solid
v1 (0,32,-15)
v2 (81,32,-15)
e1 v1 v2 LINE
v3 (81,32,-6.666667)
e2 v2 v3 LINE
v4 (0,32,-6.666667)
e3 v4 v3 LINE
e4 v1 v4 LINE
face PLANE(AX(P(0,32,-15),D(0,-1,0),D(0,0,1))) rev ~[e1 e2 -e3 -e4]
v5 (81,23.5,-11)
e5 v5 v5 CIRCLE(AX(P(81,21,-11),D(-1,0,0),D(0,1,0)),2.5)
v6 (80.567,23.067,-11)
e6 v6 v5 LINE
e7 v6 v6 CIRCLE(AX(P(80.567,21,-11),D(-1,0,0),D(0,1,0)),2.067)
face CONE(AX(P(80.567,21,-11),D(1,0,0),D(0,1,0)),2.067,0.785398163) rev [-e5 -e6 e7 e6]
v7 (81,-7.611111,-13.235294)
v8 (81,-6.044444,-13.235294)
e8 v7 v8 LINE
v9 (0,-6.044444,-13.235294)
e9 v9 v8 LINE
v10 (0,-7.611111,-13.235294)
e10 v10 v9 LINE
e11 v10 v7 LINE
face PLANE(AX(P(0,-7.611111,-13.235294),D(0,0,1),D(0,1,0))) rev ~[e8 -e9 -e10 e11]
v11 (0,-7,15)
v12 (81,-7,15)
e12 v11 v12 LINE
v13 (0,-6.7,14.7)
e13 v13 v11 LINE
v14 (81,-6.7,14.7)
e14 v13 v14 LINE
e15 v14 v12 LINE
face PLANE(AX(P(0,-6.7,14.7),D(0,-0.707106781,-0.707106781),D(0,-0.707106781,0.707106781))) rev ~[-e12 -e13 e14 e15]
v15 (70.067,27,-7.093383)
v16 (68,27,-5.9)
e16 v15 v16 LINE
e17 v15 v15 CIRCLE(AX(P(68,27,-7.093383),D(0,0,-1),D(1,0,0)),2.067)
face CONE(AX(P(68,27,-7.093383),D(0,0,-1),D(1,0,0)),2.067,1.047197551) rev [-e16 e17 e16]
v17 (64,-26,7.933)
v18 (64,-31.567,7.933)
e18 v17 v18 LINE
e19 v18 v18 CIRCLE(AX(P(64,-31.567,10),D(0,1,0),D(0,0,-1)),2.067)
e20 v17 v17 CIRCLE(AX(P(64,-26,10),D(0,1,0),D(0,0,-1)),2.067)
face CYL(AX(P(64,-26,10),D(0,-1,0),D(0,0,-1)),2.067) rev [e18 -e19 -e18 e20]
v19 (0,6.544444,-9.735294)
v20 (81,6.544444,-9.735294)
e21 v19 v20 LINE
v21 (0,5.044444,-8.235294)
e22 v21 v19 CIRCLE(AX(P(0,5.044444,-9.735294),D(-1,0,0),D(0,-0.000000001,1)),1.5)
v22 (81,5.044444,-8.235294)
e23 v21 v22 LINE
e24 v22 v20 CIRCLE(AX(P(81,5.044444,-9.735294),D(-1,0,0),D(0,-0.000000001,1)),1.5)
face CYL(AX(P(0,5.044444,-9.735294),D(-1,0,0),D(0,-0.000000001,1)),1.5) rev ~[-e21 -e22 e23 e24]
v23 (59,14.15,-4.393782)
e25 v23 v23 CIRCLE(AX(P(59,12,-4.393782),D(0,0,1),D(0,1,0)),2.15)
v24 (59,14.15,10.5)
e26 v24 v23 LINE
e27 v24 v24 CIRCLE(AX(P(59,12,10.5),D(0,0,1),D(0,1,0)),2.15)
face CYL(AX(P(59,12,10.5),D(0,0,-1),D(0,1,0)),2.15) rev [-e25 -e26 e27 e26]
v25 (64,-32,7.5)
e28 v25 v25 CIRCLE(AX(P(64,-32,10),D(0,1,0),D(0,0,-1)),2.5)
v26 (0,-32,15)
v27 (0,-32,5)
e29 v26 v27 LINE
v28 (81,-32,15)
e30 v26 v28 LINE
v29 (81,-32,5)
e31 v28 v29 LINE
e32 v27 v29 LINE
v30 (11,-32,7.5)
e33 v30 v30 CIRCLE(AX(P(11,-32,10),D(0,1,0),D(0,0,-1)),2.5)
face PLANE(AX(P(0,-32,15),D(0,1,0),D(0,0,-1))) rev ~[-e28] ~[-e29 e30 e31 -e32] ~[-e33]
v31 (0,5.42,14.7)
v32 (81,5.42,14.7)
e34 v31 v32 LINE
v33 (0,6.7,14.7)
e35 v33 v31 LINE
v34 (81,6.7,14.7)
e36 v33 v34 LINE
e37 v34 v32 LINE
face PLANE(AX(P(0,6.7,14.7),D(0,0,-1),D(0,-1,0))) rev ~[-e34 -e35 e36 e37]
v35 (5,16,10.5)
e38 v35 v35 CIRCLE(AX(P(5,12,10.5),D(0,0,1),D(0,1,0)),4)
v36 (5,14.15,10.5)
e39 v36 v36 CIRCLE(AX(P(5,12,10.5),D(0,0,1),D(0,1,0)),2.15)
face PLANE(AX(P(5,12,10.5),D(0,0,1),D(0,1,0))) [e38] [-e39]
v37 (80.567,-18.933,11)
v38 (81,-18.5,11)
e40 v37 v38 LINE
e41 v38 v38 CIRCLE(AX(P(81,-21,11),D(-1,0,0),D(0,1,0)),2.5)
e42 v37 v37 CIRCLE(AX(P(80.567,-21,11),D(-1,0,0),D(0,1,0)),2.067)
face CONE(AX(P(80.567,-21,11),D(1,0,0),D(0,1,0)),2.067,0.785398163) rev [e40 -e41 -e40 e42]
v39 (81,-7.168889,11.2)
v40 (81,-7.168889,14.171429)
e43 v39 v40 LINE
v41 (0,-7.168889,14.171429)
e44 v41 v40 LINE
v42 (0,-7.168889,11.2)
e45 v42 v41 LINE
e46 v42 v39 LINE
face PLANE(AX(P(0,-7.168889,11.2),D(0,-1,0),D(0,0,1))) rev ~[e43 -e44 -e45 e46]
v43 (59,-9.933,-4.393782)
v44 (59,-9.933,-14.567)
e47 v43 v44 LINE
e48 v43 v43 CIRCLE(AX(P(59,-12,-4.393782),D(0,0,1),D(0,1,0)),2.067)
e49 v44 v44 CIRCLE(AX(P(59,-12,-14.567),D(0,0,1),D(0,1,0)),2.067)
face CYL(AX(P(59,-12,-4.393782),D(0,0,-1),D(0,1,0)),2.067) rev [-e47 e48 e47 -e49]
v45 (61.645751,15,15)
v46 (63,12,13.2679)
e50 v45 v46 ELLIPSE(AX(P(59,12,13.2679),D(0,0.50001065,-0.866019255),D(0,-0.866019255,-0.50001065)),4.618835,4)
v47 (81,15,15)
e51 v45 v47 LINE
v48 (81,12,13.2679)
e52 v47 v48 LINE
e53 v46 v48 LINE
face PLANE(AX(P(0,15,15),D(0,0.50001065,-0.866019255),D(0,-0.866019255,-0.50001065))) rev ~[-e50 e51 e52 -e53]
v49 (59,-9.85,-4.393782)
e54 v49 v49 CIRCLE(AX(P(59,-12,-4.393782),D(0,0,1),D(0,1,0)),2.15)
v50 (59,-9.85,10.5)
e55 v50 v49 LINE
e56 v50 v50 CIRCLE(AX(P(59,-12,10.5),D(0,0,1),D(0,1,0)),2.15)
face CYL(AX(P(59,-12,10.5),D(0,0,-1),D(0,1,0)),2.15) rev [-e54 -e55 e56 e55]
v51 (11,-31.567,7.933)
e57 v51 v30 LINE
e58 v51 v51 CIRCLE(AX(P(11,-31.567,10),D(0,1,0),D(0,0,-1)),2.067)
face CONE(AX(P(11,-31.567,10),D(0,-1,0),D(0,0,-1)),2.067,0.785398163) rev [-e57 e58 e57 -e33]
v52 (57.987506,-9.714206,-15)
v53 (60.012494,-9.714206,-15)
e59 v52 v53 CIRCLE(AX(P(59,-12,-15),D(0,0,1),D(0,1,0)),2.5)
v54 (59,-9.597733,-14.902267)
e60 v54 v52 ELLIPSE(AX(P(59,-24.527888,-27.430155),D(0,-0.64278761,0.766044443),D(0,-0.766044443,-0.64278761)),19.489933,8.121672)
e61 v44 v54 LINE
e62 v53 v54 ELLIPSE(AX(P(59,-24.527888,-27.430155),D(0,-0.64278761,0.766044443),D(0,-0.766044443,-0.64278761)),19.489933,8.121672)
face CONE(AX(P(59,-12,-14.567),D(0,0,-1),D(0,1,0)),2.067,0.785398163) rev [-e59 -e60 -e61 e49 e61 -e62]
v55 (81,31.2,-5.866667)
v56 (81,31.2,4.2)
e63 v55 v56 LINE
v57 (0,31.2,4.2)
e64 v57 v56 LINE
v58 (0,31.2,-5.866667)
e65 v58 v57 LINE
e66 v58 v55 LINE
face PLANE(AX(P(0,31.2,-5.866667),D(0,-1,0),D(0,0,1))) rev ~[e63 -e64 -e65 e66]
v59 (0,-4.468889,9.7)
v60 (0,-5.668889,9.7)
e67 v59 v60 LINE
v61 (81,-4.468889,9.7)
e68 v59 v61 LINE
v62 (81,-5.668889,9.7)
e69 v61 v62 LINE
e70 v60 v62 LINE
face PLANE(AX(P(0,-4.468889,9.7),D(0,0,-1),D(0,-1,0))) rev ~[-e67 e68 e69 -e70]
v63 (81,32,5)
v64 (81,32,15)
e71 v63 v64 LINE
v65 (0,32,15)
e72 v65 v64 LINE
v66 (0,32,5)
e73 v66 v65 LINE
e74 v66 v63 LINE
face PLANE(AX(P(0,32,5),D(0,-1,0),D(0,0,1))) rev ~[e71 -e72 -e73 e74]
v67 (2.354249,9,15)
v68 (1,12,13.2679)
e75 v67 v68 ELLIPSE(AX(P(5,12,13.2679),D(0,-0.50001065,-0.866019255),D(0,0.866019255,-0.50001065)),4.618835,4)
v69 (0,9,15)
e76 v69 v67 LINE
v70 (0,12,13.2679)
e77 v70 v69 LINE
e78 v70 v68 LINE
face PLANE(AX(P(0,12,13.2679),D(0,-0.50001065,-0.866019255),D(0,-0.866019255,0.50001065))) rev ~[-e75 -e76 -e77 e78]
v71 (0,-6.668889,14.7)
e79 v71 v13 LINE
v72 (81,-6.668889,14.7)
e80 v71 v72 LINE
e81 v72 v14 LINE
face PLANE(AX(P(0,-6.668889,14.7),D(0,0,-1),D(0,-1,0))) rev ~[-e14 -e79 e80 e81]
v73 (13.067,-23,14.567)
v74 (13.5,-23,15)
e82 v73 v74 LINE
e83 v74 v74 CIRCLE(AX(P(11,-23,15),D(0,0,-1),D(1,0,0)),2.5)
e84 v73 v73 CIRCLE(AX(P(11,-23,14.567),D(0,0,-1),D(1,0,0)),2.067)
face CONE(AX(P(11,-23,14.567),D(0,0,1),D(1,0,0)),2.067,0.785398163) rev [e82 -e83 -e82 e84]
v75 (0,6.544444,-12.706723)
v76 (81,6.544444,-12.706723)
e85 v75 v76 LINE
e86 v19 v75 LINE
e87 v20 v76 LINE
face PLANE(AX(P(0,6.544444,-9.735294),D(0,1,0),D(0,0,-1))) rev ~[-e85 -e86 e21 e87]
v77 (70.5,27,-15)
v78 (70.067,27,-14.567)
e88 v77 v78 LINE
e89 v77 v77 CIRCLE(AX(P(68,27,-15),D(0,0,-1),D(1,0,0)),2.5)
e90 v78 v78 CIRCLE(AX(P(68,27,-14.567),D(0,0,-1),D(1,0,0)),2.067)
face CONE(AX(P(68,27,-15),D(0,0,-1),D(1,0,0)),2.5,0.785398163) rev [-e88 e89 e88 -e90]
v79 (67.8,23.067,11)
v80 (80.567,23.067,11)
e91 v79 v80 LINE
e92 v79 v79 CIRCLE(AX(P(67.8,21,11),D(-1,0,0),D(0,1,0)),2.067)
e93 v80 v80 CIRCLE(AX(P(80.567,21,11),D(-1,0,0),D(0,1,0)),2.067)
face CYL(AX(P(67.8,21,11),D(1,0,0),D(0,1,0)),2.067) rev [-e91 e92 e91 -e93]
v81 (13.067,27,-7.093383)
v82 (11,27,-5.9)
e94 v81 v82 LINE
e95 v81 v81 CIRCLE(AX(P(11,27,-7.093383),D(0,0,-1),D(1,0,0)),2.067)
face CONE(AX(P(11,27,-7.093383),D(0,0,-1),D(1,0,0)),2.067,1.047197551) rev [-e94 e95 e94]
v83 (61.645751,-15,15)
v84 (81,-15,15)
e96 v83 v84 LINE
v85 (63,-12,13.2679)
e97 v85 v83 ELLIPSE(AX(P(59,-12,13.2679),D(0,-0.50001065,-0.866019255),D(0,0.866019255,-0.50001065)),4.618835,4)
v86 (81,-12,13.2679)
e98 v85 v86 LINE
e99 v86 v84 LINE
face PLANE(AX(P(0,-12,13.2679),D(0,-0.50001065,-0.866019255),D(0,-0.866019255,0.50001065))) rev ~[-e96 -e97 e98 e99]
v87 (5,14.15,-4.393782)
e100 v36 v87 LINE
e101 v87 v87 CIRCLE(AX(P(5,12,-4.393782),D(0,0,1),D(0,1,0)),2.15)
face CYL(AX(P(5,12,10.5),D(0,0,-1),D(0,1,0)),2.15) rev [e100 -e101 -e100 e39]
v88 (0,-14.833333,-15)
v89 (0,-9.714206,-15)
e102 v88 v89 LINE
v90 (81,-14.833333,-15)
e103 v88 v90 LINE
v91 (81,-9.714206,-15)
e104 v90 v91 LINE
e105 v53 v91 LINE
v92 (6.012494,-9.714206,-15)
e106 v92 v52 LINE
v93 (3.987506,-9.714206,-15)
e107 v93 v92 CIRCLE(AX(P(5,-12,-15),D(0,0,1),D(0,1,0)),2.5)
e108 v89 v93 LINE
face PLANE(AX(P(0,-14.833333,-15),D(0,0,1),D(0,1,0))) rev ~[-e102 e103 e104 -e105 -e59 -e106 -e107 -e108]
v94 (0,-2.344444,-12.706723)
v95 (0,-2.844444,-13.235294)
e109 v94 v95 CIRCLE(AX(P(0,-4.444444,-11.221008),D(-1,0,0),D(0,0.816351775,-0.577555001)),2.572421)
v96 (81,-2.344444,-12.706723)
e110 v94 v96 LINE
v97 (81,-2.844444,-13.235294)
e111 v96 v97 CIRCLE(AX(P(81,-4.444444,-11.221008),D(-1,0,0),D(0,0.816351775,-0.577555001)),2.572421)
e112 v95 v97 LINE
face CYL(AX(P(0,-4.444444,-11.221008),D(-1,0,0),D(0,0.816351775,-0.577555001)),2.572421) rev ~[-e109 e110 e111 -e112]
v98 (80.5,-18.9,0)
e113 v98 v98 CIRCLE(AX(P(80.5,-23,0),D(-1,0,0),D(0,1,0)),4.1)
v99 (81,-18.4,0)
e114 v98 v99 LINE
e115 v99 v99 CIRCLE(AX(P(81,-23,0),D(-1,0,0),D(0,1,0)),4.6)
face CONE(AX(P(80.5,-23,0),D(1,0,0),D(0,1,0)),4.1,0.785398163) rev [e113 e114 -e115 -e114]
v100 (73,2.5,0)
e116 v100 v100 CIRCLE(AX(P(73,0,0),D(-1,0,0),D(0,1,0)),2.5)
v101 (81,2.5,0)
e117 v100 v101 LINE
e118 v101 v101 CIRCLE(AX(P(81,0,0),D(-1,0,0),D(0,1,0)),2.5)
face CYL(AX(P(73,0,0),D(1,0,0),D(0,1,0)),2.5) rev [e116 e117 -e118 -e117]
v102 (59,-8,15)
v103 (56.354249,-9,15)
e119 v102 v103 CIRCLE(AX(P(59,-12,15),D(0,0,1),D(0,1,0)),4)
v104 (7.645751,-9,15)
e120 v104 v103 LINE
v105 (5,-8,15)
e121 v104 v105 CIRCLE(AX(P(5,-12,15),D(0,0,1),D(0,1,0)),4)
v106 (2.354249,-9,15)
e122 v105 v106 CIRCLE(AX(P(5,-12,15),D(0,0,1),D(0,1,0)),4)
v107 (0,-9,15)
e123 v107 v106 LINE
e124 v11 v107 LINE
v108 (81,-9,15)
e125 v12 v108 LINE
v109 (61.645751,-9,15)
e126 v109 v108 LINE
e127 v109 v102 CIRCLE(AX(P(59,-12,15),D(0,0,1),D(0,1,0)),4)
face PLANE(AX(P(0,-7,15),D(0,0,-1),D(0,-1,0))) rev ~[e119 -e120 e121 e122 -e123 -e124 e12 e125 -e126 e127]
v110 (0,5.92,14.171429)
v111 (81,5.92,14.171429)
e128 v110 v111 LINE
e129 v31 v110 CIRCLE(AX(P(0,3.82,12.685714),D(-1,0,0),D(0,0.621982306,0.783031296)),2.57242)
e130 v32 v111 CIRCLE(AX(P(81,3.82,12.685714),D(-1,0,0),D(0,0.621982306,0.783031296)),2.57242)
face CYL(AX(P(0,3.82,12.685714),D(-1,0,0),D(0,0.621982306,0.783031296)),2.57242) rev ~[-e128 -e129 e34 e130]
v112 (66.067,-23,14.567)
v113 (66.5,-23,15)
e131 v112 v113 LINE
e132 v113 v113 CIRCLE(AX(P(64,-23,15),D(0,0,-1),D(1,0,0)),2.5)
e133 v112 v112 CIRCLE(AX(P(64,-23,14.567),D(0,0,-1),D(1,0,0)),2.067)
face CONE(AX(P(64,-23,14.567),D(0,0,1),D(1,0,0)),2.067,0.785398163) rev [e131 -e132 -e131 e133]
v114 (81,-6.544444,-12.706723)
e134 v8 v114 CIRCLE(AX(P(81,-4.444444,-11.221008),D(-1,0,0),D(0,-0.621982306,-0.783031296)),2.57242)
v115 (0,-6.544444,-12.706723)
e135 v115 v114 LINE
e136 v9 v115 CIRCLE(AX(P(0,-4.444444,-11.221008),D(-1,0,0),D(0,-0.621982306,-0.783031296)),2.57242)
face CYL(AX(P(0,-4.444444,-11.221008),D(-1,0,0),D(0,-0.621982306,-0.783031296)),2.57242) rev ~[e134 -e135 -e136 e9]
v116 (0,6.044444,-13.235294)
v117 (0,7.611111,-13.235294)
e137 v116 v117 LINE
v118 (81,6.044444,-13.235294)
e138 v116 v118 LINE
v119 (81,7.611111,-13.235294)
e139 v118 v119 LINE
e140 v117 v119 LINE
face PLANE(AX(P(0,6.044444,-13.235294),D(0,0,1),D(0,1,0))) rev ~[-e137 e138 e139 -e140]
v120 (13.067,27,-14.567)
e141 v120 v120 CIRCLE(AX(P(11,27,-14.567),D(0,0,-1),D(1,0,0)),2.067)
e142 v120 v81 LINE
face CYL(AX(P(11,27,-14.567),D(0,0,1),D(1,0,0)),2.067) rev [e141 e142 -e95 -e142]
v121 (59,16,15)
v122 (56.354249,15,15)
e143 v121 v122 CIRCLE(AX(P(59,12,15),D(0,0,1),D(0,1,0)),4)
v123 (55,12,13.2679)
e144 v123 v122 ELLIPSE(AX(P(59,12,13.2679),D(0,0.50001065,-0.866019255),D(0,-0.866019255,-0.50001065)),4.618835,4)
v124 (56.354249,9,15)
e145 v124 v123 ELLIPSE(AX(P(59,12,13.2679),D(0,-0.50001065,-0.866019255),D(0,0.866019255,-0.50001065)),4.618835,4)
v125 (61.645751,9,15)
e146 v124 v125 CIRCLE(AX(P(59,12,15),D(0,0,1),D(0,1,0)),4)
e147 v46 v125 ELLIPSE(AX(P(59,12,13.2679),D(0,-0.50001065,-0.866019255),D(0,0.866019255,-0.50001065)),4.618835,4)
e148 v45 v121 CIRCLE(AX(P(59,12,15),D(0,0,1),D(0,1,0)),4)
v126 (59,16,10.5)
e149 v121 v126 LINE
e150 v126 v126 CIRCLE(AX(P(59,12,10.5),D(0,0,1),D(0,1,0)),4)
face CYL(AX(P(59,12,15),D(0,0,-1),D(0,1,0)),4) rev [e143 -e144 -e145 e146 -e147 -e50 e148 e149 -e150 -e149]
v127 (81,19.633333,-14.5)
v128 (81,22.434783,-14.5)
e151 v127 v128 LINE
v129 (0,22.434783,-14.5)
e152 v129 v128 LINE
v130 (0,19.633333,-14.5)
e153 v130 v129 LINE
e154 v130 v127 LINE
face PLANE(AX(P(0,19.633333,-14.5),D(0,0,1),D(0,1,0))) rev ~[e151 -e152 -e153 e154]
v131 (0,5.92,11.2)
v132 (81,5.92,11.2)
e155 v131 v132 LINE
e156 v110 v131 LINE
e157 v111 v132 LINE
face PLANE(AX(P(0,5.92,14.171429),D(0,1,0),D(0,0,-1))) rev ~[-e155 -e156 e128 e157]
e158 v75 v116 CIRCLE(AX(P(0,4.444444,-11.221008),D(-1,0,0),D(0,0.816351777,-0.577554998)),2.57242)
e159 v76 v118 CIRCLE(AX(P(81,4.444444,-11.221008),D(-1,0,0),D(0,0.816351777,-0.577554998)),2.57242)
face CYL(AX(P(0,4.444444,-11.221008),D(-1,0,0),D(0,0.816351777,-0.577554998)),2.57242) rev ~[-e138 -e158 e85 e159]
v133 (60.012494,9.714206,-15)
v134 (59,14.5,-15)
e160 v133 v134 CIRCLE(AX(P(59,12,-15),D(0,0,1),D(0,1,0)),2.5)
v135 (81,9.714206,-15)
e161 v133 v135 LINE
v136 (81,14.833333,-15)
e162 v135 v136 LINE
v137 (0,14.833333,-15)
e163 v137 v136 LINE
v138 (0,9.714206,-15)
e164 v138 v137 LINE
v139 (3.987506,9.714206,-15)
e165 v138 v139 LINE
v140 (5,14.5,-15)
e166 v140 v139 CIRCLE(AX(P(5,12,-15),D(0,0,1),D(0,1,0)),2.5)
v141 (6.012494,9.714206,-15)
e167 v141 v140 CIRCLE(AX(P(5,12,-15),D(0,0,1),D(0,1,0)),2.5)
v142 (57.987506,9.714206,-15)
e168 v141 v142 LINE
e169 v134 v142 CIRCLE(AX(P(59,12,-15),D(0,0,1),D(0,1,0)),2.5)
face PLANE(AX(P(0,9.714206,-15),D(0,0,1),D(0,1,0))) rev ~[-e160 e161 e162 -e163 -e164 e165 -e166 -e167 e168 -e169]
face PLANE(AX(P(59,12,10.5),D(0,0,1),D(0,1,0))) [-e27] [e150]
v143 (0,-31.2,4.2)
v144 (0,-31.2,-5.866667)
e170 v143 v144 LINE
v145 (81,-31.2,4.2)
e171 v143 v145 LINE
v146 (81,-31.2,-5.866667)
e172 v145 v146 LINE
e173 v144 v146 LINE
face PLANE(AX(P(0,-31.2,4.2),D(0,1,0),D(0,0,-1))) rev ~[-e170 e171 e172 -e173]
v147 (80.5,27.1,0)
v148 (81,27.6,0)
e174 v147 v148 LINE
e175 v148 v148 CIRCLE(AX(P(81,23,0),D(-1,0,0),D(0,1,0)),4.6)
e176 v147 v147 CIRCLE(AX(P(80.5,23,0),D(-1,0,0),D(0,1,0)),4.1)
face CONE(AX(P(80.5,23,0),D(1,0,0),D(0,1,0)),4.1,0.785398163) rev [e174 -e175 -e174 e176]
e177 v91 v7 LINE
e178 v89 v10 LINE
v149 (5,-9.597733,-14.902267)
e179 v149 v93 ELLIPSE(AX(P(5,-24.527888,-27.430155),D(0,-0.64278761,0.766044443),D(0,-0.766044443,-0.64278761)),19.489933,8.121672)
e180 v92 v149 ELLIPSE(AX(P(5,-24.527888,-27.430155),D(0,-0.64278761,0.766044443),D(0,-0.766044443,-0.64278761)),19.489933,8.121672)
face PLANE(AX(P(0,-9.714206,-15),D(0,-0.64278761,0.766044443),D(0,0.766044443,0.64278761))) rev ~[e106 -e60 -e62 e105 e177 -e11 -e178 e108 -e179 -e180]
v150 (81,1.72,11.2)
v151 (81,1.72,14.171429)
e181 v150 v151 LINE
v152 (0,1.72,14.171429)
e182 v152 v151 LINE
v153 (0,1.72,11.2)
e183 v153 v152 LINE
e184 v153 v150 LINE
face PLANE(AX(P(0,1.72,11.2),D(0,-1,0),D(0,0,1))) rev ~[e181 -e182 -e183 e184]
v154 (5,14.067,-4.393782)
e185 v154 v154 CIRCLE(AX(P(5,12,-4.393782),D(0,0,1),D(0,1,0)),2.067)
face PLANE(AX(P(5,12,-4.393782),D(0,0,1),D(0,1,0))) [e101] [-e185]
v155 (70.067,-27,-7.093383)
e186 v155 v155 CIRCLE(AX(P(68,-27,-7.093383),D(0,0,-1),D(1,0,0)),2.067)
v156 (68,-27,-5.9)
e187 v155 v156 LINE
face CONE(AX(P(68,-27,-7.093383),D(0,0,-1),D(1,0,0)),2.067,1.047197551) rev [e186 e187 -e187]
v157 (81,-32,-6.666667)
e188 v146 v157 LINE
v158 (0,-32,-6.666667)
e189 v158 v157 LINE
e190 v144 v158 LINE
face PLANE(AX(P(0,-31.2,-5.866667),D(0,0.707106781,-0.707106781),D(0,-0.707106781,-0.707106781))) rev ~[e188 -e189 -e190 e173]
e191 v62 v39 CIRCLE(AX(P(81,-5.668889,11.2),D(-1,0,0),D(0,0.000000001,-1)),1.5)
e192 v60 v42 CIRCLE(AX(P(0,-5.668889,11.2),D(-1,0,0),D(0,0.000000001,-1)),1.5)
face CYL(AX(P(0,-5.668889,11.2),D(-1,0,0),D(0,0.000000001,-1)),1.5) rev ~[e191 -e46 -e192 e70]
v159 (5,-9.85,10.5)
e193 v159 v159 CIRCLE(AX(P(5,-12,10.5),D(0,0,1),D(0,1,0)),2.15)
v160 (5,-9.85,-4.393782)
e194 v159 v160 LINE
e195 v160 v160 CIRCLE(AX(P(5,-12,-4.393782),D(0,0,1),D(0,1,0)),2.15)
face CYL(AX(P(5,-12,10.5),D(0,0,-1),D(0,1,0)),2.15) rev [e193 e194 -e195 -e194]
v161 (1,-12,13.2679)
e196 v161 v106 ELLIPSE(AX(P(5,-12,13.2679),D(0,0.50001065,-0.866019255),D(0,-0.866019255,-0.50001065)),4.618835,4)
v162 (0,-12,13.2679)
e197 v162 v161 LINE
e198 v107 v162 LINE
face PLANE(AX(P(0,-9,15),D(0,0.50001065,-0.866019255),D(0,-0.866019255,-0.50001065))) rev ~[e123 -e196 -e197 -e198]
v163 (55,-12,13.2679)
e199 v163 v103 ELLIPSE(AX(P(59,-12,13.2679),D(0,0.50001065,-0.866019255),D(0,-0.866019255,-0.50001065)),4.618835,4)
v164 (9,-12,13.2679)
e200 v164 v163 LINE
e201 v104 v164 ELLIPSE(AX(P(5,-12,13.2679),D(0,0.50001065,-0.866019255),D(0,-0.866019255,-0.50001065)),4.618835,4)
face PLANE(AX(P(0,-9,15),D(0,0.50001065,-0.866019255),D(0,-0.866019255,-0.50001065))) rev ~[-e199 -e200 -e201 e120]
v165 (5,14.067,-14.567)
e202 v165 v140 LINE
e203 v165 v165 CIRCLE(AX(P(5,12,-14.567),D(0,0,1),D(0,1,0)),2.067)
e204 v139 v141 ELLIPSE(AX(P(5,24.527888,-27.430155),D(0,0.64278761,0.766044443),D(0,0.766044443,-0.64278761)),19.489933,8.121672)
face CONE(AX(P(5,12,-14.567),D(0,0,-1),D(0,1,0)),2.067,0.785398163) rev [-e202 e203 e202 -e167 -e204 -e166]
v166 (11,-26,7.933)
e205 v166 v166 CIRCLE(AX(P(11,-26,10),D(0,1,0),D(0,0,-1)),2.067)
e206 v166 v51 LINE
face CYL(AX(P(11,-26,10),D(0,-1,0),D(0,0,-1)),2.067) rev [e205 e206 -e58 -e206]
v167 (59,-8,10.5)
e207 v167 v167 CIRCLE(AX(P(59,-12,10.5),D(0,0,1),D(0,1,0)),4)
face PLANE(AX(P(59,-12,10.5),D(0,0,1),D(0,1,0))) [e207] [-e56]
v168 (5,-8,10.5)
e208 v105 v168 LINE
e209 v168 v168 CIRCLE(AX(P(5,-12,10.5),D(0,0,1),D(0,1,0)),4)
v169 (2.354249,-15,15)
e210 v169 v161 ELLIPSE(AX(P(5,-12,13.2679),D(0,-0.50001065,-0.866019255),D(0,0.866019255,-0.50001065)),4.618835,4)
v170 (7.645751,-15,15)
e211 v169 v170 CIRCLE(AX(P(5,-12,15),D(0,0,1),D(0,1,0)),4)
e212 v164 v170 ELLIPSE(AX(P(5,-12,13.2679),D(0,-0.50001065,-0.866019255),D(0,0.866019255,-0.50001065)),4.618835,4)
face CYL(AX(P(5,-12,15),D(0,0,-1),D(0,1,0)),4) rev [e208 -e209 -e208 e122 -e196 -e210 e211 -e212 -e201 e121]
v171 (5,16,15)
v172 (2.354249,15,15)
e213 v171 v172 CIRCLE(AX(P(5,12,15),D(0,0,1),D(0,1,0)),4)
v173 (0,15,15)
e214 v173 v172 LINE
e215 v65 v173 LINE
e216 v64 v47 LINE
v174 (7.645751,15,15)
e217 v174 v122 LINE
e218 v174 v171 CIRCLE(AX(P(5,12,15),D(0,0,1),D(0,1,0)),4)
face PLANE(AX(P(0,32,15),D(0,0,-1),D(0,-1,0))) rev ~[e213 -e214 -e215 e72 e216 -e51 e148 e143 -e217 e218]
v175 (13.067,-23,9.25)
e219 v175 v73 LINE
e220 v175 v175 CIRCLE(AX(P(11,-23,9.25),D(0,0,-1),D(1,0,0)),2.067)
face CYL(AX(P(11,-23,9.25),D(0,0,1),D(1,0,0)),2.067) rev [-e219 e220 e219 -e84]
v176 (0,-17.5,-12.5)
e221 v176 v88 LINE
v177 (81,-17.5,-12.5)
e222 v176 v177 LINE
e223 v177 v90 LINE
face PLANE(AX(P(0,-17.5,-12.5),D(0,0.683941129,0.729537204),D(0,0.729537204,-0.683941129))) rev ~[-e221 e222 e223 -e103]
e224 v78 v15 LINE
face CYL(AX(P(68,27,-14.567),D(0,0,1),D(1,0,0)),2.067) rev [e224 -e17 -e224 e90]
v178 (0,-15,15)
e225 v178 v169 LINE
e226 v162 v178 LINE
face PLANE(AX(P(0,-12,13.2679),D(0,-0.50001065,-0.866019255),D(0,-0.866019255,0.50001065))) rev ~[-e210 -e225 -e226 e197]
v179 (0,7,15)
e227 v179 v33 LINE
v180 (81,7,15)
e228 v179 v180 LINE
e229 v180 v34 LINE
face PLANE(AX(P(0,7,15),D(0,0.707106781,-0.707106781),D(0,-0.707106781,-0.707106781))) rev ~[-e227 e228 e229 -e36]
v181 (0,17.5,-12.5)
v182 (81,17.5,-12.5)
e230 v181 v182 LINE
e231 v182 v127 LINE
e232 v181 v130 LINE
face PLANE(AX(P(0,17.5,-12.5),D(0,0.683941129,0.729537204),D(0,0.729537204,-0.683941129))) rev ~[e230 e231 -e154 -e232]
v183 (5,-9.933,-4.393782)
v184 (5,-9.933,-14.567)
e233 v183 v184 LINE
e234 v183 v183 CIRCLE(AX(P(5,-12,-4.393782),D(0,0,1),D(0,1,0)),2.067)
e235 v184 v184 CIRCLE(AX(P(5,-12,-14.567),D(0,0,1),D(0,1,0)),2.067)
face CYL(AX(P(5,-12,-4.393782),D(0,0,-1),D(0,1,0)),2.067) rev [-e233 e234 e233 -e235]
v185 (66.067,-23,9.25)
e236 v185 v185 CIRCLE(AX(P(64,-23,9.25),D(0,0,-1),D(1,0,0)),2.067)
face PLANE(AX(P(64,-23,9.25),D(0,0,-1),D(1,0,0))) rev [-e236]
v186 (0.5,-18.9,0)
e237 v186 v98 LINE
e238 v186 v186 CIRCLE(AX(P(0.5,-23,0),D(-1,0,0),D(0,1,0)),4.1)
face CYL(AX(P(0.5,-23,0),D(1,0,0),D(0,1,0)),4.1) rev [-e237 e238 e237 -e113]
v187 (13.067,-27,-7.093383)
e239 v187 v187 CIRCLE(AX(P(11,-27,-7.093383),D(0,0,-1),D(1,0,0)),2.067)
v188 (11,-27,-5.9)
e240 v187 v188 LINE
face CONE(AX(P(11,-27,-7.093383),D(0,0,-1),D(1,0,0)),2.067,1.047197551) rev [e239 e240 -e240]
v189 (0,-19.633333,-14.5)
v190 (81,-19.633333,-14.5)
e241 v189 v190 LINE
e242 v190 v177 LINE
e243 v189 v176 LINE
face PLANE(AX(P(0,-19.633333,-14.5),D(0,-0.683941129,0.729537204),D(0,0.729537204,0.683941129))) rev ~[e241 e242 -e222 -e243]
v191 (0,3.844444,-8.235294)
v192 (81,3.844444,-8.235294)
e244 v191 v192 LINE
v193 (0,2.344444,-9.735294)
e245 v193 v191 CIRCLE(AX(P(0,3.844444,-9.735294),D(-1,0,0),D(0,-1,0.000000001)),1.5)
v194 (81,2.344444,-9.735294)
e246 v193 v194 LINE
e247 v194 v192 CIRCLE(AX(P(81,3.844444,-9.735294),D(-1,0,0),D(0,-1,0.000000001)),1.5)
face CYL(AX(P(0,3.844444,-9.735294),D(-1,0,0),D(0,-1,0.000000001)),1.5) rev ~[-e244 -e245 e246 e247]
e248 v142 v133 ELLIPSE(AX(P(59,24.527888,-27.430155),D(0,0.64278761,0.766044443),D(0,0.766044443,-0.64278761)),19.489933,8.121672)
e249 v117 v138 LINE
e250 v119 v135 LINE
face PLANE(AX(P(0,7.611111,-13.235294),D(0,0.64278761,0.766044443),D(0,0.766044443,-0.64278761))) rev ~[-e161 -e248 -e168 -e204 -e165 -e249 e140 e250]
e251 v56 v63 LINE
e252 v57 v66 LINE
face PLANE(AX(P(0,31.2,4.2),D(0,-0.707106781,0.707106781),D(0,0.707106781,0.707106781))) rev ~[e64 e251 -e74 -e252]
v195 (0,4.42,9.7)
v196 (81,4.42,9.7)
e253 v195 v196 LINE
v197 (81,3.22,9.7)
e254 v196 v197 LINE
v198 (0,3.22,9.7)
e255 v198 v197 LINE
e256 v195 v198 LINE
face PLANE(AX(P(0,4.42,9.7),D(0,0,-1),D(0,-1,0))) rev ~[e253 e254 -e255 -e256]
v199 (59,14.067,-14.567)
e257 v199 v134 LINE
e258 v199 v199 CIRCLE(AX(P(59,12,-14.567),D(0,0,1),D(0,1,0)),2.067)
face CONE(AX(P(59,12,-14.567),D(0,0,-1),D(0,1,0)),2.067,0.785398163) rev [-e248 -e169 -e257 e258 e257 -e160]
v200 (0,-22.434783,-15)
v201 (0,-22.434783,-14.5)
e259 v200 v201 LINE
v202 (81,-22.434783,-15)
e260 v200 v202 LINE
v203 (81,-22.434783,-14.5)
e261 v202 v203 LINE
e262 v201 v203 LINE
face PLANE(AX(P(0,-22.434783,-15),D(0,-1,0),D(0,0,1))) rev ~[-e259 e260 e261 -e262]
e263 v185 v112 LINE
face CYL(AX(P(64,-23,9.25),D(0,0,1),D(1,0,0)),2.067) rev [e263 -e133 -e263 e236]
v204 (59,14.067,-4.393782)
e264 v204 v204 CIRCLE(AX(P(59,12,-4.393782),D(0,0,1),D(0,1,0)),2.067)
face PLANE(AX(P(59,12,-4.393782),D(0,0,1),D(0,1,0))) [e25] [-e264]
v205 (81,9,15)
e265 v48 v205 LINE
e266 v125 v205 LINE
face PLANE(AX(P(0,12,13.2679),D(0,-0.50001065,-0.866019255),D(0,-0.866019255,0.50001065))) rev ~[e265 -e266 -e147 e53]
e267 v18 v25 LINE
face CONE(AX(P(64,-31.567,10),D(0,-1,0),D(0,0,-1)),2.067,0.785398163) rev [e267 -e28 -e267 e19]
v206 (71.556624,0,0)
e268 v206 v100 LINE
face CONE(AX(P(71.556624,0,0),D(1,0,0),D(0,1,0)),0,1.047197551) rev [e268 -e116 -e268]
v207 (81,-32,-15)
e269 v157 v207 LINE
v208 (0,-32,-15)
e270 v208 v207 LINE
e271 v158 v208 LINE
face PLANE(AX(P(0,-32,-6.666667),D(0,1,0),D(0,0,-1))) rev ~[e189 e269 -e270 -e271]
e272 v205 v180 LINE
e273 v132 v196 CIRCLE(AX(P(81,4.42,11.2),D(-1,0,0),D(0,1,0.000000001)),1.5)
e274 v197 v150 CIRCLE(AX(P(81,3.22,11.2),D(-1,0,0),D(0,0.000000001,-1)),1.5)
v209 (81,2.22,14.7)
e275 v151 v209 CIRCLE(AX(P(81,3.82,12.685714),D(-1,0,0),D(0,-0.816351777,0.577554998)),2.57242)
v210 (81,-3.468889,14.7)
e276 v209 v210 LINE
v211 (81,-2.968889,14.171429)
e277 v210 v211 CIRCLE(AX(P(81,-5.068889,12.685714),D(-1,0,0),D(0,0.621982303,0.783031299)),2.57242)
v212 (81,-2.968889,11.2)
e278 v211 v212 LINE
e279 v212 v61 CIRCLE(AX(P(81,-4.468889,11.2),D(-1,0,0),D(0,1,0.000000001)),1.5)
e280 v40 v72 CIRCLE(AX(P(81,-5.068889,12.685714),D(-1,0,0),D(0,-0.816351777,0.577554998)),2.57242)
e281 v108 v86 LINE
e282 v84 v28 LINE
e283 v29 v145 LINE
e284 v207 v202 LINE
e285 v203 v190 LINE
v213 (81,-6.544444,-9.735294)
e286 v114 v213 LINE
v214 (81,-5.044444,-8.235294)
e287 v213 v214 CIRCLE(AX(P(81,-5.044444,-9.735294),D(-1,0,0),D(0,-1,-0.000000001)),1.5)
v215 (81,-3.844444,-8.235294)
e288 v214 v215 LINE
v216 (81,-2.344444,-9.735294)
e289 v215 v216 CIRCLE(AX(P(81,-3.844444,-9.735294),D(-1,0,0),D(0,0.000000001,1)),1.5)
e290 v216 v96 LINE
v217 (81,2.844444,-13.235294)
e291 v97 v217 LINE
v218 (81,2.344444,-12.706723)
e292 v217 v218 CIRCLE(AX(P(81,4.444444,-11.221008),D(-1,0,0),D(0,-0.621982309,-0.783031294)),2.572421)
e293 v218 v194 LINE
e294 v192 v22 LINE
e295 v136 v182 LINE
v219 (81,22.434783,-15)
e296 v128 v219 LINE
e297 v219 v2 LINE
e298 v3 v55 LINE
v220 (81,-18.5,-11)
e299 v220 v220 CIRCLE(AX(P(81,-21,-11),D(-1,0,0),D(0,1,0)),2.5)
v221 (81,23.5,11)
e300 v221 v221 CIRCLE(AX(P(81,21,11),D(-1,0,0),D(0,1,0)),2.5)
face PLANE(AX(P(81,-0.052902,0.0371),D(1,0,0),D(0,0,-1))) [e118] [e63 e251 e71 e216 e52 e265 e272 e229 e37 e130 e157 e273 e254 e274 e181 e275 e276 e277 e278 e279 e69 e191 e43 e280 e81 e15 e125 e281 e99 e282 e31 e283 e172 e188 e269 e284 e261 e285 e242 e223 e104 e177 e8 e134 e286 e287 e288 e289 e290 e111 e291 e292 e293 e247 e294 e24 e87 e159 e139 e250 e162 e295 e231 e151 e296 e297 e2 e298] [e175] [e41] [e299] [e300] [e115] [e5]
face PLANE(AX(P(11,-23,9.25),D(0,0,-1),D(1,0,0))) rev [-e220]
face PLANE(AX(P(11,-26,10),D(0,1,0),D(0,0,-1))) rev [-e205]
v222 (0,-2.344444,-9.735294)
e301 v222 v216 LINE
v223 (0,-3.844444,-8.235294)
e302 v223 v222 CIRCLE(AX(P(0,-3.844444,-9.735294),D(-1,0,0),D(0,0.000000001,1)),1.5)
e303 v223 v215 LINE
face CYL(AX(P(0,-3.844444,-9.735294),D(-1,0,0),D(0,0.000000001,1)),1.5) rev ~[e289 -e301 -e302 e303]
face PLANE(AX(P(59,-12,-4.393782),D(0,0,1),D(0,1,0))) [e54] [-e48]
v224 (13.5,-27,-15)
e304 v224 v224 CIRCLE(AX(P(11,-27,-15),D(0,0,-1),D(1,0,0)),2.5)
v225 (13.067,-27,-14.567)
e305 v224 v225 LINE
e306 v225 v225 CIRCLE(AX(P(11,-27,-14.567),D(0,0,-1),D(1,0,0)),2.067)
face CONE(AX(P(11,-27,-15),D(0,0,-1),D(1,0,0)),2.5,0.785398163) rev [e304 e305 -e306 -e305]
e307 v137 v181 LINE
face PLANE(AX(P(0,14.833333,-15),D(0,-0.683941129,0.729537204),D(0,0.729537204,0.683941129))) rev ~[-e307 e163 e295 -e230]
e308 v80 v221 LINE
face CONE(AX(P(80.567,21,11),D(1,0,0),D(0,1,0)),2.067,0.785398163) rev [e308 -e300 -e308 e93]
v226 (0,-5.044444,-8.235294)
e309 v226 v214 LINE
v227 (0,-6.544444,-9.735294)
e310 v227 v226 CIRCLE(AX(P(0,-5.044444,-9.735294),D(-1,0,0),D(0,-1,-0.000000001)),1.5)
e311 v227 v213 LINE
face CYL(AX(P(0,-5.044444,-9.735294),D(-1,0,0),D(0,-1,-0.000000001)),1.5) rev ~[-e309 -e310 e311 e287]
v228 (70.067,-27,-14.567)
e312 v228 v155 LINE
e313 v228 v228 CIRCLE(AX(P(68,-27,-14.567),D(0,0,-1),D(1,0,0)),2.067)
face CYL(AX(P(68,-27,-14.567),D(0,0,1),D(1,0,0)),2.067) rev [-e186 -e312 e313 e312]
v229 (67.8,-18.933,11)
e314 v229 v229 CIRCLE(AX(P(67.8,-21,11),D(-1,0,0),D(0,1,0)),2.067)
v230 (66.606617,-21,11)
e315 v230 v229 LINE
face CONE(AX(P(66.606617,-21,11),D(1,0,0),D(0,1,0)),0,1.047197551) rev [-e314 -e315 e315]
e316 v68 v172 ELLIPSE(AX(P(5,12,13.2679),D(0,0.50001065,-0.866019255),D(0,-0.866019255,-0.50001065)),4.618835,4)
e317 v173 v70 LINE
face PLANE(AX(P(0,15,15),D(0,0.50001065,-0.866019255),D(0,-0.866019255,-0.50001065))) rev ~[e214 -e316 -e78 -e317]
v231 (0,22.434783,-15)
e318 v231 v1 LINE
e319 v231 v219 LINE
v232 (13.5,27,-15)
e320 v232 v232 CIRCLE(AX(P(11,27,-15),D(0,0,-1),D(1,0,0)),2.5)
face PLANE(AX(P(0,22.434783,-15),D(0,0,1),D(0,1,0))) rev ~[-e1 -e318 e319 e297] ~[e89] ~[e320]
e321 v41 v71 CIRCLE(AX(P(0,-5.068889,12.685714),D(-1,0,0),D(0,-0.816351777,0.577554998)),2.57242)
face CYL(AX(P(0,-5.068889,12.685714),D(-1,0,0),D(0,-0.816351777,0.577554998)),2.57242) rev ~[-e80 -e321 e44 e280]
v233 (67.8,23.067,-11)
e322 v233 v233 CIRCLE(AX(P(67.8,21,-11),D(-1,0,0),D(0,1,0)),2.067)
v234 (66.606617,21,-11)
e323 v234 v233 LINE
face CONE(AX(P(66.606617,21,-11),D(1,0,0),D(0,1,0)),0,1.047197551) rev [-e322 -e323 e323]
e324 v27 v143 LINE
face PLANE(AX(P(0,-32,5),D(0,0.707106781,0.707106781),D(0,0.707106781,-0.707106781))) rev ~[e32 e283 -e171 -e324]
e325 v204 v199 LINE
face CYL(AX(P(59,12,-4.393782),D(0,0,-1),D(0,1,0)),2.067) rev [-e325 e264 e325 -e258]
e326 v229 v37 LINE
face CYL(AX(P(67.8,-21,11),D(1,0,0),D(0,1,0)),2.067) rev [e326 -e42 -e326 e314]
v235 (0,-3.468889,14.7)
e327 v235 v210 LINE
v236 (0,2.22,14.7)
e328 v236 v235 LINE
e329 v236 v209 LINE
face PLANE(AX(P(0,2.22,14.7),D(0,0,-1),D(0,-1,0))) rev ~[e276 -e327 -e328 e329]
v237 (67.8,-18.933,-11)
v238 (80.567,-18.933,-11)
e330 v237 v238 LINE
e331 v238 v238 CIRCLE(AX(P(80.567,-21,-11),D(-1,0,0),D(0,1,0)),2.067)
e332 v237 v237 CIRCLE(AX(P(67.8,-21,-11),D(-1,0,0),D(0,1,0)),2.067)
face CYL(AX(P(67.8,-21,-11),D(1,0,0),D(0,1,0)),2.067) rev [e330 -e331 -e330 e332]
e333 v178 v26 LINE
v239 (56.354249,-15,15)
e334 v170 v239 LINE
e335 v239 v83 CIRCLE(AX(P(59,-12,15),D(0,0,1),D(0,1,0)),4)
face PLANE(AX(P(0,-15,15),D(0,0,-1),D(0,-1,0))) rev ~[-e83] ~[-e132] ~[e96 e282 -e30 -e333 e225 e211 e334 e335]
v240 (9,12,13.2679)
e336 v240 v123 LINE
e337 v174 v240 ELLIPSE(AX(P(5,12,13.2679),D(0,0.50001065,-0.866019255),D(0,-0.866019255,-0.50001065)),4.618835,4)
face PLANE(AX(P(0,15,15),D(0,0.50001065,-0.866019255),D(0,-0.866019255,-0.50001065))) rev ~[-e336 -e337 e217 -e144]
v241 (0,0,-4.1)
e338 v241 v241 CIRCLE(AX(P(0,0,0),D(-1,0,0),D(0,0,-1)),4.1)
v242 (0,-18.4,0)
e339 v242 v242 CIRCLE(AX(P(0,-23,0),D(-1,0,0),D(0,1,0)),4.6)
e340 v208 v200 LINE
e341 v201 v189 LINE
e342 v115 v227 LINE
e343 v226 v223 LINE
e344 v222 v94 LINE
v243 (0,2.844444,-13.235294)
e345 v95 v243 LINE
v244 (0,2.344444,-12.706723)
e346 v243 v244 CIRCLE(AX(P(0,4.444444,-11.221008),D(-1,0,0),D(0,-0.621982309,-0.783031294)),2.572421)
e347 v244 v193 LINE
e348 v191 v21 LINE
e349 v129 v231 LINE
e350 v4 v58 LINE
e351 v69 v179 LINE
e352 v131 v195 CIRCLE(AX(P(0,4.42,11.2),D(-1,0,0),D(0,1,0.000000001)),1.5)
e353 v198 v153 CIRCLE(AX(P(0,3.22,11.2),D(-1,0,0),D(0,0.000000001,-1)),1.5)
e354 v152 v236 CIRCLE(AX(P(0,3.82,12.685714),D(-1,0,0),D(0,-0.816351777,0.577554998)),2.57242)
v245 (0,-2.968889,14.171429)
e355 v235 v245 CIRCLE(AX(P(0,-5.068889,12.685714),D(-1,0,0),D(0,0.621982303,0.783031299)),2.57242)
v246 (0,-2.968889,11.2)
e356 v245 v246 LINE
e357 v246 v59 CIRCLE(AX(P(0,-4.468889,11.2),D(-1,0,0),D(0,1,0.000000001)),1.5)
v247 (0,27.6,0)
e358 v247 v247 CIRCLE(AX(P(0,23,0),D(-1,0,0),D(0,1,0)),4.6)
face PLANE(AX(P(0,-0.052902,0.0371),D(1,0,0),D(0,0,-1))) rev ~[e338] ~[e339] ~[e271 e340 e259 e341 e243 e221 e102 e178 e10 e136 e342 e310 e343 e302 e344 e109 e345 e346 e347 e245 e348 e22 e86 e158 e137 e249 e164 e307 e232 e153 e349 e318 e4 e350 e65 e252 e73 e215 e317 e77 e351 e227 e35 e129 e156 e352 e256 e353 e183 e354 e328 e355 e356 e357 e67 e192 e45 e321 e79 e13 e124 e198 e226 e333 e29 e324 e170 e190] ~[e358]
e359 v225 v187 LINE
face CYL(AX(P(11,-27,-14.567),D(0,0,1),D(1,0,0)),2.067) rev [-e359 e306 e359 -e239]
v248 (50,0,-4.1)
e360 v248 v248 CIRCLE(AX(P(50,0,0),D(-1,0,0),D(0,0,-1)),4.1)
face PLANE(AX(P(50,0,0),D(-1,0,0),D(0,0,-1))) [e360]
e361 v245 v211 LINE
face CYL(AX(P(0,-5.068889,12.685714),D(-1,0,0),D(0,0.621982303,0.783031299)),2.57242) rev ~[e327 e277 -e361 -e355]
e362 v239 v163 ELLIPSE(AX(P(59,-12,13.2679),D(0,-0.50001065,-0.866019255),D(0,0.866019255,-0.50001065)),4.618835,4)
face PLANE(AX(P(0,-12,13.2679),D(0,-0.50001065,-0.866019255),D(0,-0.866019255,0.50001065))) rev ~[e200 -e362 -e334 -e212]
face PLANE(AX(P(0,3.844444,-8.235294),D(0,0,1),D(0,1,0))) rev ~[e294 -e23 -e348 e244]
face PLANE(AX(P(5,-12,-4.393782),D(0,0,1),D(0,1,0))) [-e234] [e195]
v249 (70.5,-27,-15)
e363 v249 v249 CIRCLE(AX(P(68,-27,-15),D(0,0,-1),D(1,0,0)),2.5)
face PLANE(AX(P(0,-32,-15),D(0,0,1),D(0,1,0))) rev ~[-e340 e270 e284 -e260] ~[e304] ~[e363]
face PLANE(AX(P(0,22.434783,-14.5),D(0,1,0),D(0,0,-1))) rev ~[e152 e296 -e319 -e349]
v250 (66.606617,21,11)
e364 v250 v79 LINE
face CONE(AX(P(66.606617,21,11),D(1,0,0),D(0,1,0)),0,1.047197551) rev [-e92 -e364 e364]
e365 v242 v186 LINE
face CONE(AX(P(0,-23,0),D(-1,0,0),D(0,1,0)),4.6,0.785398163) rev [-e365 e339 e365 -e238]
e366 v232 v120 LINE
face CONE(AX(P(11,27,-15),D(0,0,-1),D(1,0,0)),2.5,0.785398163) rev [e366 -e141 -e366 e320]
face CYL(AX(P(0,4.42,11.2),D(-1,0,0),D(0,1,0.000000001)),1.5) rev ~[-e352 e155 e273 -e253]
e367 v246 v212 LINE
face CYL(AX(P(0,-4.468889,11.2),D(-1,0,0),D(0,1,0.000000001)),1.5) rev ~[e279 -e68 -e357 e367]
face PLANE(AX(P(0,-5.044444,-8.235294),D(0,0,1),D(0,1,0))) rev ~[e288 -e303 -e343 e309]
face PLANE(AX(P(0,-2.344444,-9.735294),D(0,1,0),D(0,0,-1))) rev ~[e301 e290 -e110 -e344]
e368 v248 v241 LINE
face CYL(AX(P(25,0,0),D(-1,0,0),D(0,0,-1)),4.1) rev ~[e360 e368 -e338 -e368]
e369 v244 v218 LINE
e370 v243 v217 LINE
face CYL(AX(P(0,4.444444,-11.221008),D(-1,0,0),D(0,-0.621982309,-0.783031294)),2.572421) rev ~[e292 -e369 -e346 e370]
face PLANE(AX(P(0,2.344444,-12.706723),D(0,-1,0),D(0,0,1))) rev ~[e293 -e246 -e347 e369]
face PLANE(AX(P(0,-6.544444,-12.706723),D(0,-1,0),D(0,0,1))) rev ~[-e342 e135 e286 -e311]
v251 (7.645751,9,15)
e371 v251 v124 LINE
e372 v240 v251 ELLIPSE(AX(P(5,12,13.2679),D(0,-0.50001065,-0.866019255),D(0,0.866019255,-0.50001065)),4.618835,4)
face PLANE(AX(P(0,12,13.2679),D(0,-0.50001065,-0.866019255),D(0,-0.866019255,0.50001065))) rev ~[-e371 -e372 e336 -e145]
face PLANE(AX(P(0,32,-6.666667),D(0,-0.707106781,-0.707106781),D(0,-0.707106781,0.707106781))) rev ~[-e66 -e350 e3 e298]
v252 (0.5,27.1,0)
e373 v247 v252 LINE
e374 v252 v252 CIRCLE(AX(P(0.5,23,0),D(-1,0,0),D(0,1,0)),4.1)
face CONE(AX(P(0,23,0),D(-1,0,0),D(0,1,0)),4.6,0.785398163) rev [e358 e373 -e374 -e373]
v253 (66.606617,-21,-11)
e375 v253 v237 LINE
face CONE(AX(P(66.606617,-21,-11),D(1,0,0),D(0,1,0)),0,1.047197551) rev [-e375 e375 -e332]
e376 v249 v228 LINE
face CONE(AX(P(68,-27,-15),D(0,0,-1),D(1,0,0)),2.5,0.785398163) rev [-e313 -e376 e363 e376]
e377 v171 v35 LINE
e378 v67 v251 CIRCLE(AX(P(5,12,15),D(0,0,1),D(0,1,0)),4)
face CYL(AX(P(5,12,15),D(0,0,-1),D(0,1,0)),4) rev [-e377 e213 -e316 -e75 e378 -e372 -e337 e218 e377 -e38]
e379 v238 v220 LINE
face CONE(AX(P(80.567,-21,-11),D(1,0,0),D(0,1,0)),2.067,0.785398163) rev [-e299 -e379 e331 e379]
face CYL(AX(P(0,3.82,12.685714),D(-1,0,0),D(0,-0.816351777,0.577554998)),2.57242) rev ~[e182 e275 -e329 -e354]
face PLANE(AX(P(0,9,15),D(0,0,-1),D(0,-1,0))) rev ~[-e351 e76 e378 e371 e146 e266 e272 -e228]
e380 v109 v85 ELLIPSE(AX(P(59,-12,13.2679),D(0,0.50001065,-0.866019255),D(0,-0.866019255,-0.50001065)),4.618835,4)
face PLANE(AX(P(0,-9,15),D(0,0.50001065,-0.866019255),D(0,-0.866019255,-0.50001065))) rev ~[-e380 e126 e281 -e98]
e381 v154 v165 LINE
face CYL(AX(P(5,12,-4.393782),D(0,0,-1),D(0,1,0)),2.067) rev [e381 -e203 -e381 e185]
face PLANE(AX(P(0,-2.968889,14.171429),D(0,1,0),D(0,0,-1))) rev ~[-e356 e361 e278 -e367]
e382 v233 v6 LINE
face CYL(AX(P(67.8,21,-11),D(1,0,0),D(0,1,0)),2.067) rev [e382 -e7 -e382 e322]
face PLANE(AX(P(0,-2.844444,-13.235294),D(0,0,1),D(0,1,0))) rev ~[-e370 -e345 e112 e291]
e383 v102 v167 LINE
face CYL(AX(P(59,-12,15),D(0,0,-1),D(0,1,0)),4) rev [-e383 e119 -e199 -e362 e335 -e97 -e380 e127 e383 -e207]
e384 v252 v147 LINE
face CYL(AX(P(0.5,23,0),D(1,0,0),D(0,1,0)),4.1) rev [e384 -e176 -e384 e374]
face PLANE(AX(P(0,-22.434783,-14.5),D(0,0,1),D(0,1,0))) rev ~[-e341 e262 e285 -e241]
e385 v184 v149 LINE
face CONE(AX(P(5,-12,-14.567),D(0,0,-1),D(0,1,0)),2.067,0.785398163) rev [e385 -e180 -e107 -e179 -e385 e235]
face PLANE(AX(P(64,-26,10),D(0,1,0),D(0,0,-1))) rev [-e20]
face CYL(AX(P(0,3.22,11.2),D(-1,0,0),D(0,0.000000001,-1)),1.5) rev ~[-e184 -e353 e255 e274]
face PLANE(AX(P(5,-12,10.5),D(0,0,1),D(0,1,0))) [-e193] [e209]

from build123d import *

# Parameters (mm, degrees)
BOSS_EXTRUDE1_DEPTH = 81
SKETCH10_W          = 50
SKETCH10_H          = 4.1


with BuildPart() as part:
    # Sketch1 → Boss-Extrude1 (new body)
    with BuildSketch(Plane(origin=(0, 0, 0), x_dir=(0, 0, -1), z_dir=(1, 0, 0))):
        with BuildLine():
            Line((-15, -32), (-5, -32))
            Line((-5, -32), (-4.2, -31.2))
            Line((-4.2, -31.2), (5.866666667, -31.2))
            Line((5.866666667, -31.2), (6.666666667, -32))
            Line((6.666666667, -32), (15, -32))
            Line((15, -32), (15, -22.434782609))
            Line((15, -22.434782609), (14.5, -22.434782609))
            Line((14.5, -22.434782609), (14.5, -19.633333333))
            Line((14.5, -19.633333333), (12.5, -17.5))
            Line((12.5, -17.5), (15, -14.833333333))
            Line((15, -14.833333333), (15, -9.714205686))
            Line((15, -9.714205686), (13.235294118, -7.611111111))
            Line((13.235294118, -7.611111111), (13.235294118, -6.044444444))
            ThreePointArc((13.235294118, -6.044444444), (12.988775356, -6.313226652), (12.706722689, -6.544444444))
            Line((12.706722689, -6.544444444), (9.735294118, -6.544444444))
            ThreePointArc((9.735294118, -6.544444444), (8.674633946, -6.105104616), (8.235294118, -5.044444444))
            Line((8.235294118, -5.044444444), (8.235294118, -3.844444444))
            ThreePointArc((8.235294118, -3.844444444), (8.674633946, -2.783784273), (9.735294118, -2.344444444))
            Line((9.735294118, -2.344444444), (12.706722689, -2.344444444))
            ThreePointArc((12.706722689, -2.344444444), (12.988775356, -2.575662237), (13.235294118, -2.844444444))
            Line((13.235294118, -2.844444444), (13.235294118, 2.844444444))
            ThreePointArc((13.235294118, 2.844444444), (12.988775356, 2.575662237), (12.706722689, 2.344444444))
            Line((12.706722689, 2.344444444), (9.735294118, 2.344444444))
            ThreePointArc((9.735294118, 2.344444444), (8.674633946, 2.783784273), (8.235294118, 3.844444444))
            Line((8.235294118, 3.844444444), (8.235294118, 5.044444444))
            ThreePointArc((8.235294118, 5.044444444), (8.674633946, 6.105104616), (9.735294118, 6.544444444))
            Line((9.735294118, 6.544444444), (12.706722689, 6.544444444))
            ThreePointArc((12.706722689, 6.544444444), (12.988775356, 6.313226652), (13.235294118, 6.044444444))
            Line((13.235294118, 6.044444444), (13.235294118, 7.611111111))
            Line((13.235294118, 7.611111111), (15, 9.714205686))
            Line((15, 9.714205686), (15, 14.833333333))
            Line((15, 14.833333333), (12.5, 17.5))
            Line((12.5, 17.5), (14.5, 19.633333333))
            Line((14.5, 19.633333333), (14.5, 22.434782609))
            Line((14.5, 22.434782609), (15, 22.434782609))
            Line((15, 22.434782609), (15, 32))
            Line((15, 32), (6.666666667, 32))
            Line((6.666666667, 32), (5.866666667, 31.2))
            Line((5.866666667, 31.2), (-4.2, 31.2))
            Line((-4.2, 31.2), (-5, 32))
            Line((-5, 32), (-15, 32))
            Line((-15, 32), (-15, 15))
            Line((-15, 15), (-13.2679, 12))
            Line((-13.2679, 12), (-15, 9))
            Line((-15, 9), (-15, 7))
            Line((-15, 7), (-14.7, 6.7))
            Line((-14.7, 6.7), (-14.7, 5.42))
            ThreePointArc((-14.7, 5.42), (-14.453481239, 5.688782207), (-14.171428571, 5.92))
            Line((-14.171428571, 5.92), (-11.2, 5.92))
            ThreePointArc((-11.2, 5.92), (-10.139339828, 5.480660172), (-9.7, 4.42))
            Line((-9.7, 4.42), (-9.7, 3.22))
            ThreePointArc((-9.7, 3.22), (-10.139339828, 2.159339828), (-11.2, 1.72))
            Line((-11.2, 1.72), (-14.171428571, 1.72))
            ThreePointArc((-14.171428571, 1.72), (-14.453481239, 1.951217793), (-14.7, 2.22))
            Line((-14.7, 2.22), (-14.7, -3.468888889))
            ThreePointArc((-14.7, -3.468888889), (-14.453481239, -3.200106681), (-14.171428571, -2.968888889))
            Line((-14.171428571, -2.968888889), (-11.2, -2.968888889))
            ThreePointArc((-11.2, -2.968888889), (-10.139339828, -3.408228717), (-9.7, -4.468888889))
            Line((-9.7, -4.468888889), (-9.7, -5.668888889))
            ThreePointArc((-9.7, -5.668888889), (-10.139339828, -6.729549061), (-11.2, -7.168888889))
            Line((-11.2, -7.168888889), (-14.171428571, -7.168888889))
            ThreePointArc((-14.171428571, -7.168888889), (-14.453481239, -6.937671096), (-14.7, -6.668888889))
            Line((-14.7, -6.668888889), (-14.7, -6.7))
            Line((-14.7, -6.7), (-15, -7))
            Line((-15, -7), (-15, -9))
            Line((-15, -9), (-13.2679, -12))
            Line((-13.2679, -12), (-15, -15))
            Line((-15, -15), (-15, -32))
        make_face()
    extrude(amount=BOSS_EXTRUDE1_DEPTH)

    # Sketch2 → Cut-Revolve1 (revolve, cut)
    with BuildSketch(Plane.XY):
        Polygon((0, 23), (0, 27.6), (0.5, 27.1), (80.5, 27.1), (81, 27.6), (81, 23), align=None)
    revolve(axis=Axis((81, 23, 0), (-1, 0, 0)), mode=Mode.SUBTRACT)

    # Sketch3 → Cut-Revolve2 (revolve, cut)
    with BuildSketch(Plane.XY):
        Polygon((0, -23), (0, -18.4), (0.5, -18.9), (80.5, -18.9), (81, -18.4), (81, -23), align=None)
    revolve(axis=Axis((81, -23, 0), (-1, 0, 0)), mode=Mode.SUBTRACT)

    # Sketch4 → Cut-Revolve3 (revolve, cut)
    with BuildSketch(Plane(origin=(0, 27, 0), x_dir=(-1, 0, 0), z_dir=(0, 1, 0))):
        Polygon((-11, -15), (-13.5, -15), (-13.067, -14.567), (-13.067, -7.093383006), (-11, -5.9), align=None)
    revolve(axis=Axis((11, 27, -5.9), (0, 0, -1)), mode=Mode.SUBTRACT)

    # Sketch5 → Cut-Revolve4 (revolve, cut)
    with BuildSketch(Plane(origin=(0, 27, 0), x_dir=(-1, 0, 0), z_dir=(0, 1, 0))):
        Polygon((-68, -15), (-70.5, -15), (-70.067, -14.567), (-70.067, -7.093383006), (-68, -5.9), align=None)
    revolve(axis=Axis((68, 27, -5.9), (0, 0, -1)), mode=Mode.SUBTRACT)

    # Sketch6 → Cut-Revolve5 (revolve, cut)
    with BuildSketch(Plane(origin=(0, -27, 0), x_dir=(-1, 0, 0), z_dir=(0, 1, 0))):
        Polygon((-11, -15), (-13.5, -15), (-13.067, -14.567), (-13.067, -7.093383006), (-11, -5.9), align=None)
    revolve(axis=Axis((11, -27, -5.9), (0, 0, -1)), mode=Mode.SUBTRACT)

    # Sketch7 → Cut-Revolve6 (revolve, cut)
    with BuildSketch(Plane(origin=(0, -27, 0), x_dir=(-1, 0, 0), z_dir=(0, 1, 0))):
        Polygon((-68, -15), (-70.5, -15), (-70.067, -14.567), (-70.067, -7.093383006), (-68, -5.9), align=None)
    revolve(axis=Axis((68, -27, -5.9), (0, 0, -1)), mode=Mode.SUBTRACT)

    # Sketch8 → Cut-Revolve7 (revolve, cut)
    with BuildSketch(Plane(origin=(0, -23, 0), x_dir=(-1, 0, 0), z_dir=(0, 1, 0))):
        Polygon((-11, 9.25), (-13.067, 9.25), (-13.067, 14.567), (-13.5, 15), (-11, 15), align=None)
    revolve(axis=Axis((11, -23, 15), (0, 0, -1)), mode=Mode.SUBTRACT)

    # Sketch9 → Cut-Revolve8 (revolve, cut)
    with BuildSketch(Plane(origin=(0, -23, 0), x_dir=(-1, 0, 0), z_dir=(0, 1, 0))):
        Polygon((-64, 9.25), (-66.067, 9.25), (-66.067, 14.567), (-66.5, 15), (-64, 15), align=None)
    revolve(axis=Axis((64, -23, 15), (0, 0, -1)), mode=Mode.SUBTRACT)

    # Sketch10 → Cut-Revolve9 (revolve, cut)
    with BuildSketch(Plane(origin=(0, 0, 0), x_dir=(-1, 0, 0), z_dir=(0, 1, 0))):
        with Locations((-25, -2.05)):
            Rectangle(SKETCH10_W, SKETCH10_H)
    revolve(axis=Axis((50, 0, 0), (-1, 0, 0)), mode=Mode.SUBTRACT)

    # Sketch11 → Cut-Revolve10 (revolve, cut)
    with BuildSketch(Plane(origin=(11, 0, 0), x_dir=(0, 0, -1), z_dir=(1, 0, 0))):
        Polygon((-10, -26), (-7.933, -26), (-7.933, -31.567), (-7.5, -32), (-10, -32), align=None)
    revolve(axis=Axis((11, -32, 10), (0, 1, 0)), mode=Mode.SUBTRACT)

    # Sketch12 → Cut-Revolve11 (revolve, cut)
    with BuildSketch(Plane(origin=(64, 0, 0), x_dir=(0, 0, -1), z_dir=(1, 0, 0))):
        Polygon((-10, -26), (-7.933, -26), (-7.933, -31.567), (-7.5, -32), (-10, -32), align=None)
    revolve(axis=Axis((64, -32, 10), (0, 1, 0)), mode=Mode.SUBTRACT)

    # Sketch13 → Cut-Revolve12 (revolve, cut)
    with BuildSketch(Plane.XY):
        Polygon((71.556624327, 0), (73, 2.5), (81, 2.5), (81, 0), align=None)
    revolve(axis=Axis((81, 0, 0), (-1, 0, 0)), mode=Mode.SUBTRACT)

    # Sketch14 → Cut-Revolve13 (revolve, cut)
    with BuildSketch(Plane.XY.offset(-11)):
        Polygon((66.606616994, 21), (67.8, 23.067), (80.567, 23.067), (81, 23.5), (81, 21), align=None)
    revolve(axis=Axis((81, 21, -11), (-1, 0, 0)), mode=Mode.SUBTRACT)

    # Sketch15 → Cut-Revolve14 (revolve, cut)
    with BuildSketch(Plane.XY.offset(-11)):
        Polygon((66.606616994, -21), (67.8, -18.933), (80.567, -18.933), (81, -18.5), (81, -21), align=None)
    revolve(axis=Axis((81, -21, -11), (-1, 0, 0)), mode=Mode.SUBTRACT)

    # Sketch16 → Cut-Revolve15 (revolve, cut)
    with BuildSketch(Plane.XY.offset(11)):
        Polygon((66.606616994, 21), (67.8, 23.067), (80.567, 23.067), (81, 23.5), (81, 21), align=None)
    revolve(axis=Axis((81, 21, 11), (-1, 0, 0)), mode=Mode.SUBTRACT)

    # Sketch17 → Cut-Revolve16 (revolve, cut)
    with BuildSketch(Plane.XY.offset(11)):
        Polygon((66.606616994, -21), (67.8, -18.933), (80.567, -18.933), (81, -18.5), (81, -21), align=None)
    revolve(axis=Axis((81, -21, 11), (-1, 0, 0)), mode=Mode.SUBTRACT)

    # Sketch18 → Cut-Revolve17 (revolve, cut)
    with BuildSketch(Plane(origin=(5, 0, 0), x_dir=(0, 0, -1), z_dir=(1, 0, 0))):
        Polygon((-15, 12), (-15, 16), (-10.5, 16), (-10.5, 14.15), (4.393782217, 14.15), (4.393782217, 14.067), (14.567, 14.067), (15, 14.5), (15, 12), align=None)
    revolve(axis=Axis((5, 12, -15), (0, 0, 1)), mode=Mode.SUBTRACT)

    # Sketch19 → Cut-Revolve18 (revolve, cut)
    with BuildSketch(Plane(origin=(5, 0, 0), x_dir=(0, 0, -1), z_dir=(1, 0, 0))):
        Polygon((-15, -12), (-15, -8), (-10.5, -8), (-10.5, -9.85), (4.393782217, -9.85), (4.393782217, -9.933), (14.567, -9.933), (15, -9.5), (15, -12), align=None)
    revolve(axis=Axis((5, -12, -15), (0, 0, 1)), mode=Mode.SUBTRACT)

    # Sketch20 → Cut-Revolve19 (revolve, cut)
    with BuildSketch(Plane(origin=(59, 0, 0), x_dir=(0, 0, -1), z_dir=(1, 0, 0))):
        Polygon((-15, -12), (-15, -8), (-10.5, -8), (-10.5, -9.85), (4.393782217, -9.85), (4.393782217, -9.933), (14.567, -9.933), (15, -9.5), (15, -12), align=None)
    revolve(axis=Axis((59, -12, -15), (0, 0, 1)), mode=Mode.SUBTRACT)

    # Sketch21 → Cut-Revolve20 (revolve, cut)
    with BuildSketch(Plane(origin=(59, 0, 0), x_dir=(0, 0, -1), z_dir=(1, 0, 0))):
        Polygon((-15, 12), (-15, 16), (-10.5, 16), (-10.5, 14.15), (4.393782217, 14.15), (4.393782217, 14.067), (14.567, 14.067), (15, 14.5), (15, 12), align=None)
    revolve(axis=Axis((59, 12, -15), (0, 0, 1)), mode=Mode.SUBTRACT)


solid = part.part
